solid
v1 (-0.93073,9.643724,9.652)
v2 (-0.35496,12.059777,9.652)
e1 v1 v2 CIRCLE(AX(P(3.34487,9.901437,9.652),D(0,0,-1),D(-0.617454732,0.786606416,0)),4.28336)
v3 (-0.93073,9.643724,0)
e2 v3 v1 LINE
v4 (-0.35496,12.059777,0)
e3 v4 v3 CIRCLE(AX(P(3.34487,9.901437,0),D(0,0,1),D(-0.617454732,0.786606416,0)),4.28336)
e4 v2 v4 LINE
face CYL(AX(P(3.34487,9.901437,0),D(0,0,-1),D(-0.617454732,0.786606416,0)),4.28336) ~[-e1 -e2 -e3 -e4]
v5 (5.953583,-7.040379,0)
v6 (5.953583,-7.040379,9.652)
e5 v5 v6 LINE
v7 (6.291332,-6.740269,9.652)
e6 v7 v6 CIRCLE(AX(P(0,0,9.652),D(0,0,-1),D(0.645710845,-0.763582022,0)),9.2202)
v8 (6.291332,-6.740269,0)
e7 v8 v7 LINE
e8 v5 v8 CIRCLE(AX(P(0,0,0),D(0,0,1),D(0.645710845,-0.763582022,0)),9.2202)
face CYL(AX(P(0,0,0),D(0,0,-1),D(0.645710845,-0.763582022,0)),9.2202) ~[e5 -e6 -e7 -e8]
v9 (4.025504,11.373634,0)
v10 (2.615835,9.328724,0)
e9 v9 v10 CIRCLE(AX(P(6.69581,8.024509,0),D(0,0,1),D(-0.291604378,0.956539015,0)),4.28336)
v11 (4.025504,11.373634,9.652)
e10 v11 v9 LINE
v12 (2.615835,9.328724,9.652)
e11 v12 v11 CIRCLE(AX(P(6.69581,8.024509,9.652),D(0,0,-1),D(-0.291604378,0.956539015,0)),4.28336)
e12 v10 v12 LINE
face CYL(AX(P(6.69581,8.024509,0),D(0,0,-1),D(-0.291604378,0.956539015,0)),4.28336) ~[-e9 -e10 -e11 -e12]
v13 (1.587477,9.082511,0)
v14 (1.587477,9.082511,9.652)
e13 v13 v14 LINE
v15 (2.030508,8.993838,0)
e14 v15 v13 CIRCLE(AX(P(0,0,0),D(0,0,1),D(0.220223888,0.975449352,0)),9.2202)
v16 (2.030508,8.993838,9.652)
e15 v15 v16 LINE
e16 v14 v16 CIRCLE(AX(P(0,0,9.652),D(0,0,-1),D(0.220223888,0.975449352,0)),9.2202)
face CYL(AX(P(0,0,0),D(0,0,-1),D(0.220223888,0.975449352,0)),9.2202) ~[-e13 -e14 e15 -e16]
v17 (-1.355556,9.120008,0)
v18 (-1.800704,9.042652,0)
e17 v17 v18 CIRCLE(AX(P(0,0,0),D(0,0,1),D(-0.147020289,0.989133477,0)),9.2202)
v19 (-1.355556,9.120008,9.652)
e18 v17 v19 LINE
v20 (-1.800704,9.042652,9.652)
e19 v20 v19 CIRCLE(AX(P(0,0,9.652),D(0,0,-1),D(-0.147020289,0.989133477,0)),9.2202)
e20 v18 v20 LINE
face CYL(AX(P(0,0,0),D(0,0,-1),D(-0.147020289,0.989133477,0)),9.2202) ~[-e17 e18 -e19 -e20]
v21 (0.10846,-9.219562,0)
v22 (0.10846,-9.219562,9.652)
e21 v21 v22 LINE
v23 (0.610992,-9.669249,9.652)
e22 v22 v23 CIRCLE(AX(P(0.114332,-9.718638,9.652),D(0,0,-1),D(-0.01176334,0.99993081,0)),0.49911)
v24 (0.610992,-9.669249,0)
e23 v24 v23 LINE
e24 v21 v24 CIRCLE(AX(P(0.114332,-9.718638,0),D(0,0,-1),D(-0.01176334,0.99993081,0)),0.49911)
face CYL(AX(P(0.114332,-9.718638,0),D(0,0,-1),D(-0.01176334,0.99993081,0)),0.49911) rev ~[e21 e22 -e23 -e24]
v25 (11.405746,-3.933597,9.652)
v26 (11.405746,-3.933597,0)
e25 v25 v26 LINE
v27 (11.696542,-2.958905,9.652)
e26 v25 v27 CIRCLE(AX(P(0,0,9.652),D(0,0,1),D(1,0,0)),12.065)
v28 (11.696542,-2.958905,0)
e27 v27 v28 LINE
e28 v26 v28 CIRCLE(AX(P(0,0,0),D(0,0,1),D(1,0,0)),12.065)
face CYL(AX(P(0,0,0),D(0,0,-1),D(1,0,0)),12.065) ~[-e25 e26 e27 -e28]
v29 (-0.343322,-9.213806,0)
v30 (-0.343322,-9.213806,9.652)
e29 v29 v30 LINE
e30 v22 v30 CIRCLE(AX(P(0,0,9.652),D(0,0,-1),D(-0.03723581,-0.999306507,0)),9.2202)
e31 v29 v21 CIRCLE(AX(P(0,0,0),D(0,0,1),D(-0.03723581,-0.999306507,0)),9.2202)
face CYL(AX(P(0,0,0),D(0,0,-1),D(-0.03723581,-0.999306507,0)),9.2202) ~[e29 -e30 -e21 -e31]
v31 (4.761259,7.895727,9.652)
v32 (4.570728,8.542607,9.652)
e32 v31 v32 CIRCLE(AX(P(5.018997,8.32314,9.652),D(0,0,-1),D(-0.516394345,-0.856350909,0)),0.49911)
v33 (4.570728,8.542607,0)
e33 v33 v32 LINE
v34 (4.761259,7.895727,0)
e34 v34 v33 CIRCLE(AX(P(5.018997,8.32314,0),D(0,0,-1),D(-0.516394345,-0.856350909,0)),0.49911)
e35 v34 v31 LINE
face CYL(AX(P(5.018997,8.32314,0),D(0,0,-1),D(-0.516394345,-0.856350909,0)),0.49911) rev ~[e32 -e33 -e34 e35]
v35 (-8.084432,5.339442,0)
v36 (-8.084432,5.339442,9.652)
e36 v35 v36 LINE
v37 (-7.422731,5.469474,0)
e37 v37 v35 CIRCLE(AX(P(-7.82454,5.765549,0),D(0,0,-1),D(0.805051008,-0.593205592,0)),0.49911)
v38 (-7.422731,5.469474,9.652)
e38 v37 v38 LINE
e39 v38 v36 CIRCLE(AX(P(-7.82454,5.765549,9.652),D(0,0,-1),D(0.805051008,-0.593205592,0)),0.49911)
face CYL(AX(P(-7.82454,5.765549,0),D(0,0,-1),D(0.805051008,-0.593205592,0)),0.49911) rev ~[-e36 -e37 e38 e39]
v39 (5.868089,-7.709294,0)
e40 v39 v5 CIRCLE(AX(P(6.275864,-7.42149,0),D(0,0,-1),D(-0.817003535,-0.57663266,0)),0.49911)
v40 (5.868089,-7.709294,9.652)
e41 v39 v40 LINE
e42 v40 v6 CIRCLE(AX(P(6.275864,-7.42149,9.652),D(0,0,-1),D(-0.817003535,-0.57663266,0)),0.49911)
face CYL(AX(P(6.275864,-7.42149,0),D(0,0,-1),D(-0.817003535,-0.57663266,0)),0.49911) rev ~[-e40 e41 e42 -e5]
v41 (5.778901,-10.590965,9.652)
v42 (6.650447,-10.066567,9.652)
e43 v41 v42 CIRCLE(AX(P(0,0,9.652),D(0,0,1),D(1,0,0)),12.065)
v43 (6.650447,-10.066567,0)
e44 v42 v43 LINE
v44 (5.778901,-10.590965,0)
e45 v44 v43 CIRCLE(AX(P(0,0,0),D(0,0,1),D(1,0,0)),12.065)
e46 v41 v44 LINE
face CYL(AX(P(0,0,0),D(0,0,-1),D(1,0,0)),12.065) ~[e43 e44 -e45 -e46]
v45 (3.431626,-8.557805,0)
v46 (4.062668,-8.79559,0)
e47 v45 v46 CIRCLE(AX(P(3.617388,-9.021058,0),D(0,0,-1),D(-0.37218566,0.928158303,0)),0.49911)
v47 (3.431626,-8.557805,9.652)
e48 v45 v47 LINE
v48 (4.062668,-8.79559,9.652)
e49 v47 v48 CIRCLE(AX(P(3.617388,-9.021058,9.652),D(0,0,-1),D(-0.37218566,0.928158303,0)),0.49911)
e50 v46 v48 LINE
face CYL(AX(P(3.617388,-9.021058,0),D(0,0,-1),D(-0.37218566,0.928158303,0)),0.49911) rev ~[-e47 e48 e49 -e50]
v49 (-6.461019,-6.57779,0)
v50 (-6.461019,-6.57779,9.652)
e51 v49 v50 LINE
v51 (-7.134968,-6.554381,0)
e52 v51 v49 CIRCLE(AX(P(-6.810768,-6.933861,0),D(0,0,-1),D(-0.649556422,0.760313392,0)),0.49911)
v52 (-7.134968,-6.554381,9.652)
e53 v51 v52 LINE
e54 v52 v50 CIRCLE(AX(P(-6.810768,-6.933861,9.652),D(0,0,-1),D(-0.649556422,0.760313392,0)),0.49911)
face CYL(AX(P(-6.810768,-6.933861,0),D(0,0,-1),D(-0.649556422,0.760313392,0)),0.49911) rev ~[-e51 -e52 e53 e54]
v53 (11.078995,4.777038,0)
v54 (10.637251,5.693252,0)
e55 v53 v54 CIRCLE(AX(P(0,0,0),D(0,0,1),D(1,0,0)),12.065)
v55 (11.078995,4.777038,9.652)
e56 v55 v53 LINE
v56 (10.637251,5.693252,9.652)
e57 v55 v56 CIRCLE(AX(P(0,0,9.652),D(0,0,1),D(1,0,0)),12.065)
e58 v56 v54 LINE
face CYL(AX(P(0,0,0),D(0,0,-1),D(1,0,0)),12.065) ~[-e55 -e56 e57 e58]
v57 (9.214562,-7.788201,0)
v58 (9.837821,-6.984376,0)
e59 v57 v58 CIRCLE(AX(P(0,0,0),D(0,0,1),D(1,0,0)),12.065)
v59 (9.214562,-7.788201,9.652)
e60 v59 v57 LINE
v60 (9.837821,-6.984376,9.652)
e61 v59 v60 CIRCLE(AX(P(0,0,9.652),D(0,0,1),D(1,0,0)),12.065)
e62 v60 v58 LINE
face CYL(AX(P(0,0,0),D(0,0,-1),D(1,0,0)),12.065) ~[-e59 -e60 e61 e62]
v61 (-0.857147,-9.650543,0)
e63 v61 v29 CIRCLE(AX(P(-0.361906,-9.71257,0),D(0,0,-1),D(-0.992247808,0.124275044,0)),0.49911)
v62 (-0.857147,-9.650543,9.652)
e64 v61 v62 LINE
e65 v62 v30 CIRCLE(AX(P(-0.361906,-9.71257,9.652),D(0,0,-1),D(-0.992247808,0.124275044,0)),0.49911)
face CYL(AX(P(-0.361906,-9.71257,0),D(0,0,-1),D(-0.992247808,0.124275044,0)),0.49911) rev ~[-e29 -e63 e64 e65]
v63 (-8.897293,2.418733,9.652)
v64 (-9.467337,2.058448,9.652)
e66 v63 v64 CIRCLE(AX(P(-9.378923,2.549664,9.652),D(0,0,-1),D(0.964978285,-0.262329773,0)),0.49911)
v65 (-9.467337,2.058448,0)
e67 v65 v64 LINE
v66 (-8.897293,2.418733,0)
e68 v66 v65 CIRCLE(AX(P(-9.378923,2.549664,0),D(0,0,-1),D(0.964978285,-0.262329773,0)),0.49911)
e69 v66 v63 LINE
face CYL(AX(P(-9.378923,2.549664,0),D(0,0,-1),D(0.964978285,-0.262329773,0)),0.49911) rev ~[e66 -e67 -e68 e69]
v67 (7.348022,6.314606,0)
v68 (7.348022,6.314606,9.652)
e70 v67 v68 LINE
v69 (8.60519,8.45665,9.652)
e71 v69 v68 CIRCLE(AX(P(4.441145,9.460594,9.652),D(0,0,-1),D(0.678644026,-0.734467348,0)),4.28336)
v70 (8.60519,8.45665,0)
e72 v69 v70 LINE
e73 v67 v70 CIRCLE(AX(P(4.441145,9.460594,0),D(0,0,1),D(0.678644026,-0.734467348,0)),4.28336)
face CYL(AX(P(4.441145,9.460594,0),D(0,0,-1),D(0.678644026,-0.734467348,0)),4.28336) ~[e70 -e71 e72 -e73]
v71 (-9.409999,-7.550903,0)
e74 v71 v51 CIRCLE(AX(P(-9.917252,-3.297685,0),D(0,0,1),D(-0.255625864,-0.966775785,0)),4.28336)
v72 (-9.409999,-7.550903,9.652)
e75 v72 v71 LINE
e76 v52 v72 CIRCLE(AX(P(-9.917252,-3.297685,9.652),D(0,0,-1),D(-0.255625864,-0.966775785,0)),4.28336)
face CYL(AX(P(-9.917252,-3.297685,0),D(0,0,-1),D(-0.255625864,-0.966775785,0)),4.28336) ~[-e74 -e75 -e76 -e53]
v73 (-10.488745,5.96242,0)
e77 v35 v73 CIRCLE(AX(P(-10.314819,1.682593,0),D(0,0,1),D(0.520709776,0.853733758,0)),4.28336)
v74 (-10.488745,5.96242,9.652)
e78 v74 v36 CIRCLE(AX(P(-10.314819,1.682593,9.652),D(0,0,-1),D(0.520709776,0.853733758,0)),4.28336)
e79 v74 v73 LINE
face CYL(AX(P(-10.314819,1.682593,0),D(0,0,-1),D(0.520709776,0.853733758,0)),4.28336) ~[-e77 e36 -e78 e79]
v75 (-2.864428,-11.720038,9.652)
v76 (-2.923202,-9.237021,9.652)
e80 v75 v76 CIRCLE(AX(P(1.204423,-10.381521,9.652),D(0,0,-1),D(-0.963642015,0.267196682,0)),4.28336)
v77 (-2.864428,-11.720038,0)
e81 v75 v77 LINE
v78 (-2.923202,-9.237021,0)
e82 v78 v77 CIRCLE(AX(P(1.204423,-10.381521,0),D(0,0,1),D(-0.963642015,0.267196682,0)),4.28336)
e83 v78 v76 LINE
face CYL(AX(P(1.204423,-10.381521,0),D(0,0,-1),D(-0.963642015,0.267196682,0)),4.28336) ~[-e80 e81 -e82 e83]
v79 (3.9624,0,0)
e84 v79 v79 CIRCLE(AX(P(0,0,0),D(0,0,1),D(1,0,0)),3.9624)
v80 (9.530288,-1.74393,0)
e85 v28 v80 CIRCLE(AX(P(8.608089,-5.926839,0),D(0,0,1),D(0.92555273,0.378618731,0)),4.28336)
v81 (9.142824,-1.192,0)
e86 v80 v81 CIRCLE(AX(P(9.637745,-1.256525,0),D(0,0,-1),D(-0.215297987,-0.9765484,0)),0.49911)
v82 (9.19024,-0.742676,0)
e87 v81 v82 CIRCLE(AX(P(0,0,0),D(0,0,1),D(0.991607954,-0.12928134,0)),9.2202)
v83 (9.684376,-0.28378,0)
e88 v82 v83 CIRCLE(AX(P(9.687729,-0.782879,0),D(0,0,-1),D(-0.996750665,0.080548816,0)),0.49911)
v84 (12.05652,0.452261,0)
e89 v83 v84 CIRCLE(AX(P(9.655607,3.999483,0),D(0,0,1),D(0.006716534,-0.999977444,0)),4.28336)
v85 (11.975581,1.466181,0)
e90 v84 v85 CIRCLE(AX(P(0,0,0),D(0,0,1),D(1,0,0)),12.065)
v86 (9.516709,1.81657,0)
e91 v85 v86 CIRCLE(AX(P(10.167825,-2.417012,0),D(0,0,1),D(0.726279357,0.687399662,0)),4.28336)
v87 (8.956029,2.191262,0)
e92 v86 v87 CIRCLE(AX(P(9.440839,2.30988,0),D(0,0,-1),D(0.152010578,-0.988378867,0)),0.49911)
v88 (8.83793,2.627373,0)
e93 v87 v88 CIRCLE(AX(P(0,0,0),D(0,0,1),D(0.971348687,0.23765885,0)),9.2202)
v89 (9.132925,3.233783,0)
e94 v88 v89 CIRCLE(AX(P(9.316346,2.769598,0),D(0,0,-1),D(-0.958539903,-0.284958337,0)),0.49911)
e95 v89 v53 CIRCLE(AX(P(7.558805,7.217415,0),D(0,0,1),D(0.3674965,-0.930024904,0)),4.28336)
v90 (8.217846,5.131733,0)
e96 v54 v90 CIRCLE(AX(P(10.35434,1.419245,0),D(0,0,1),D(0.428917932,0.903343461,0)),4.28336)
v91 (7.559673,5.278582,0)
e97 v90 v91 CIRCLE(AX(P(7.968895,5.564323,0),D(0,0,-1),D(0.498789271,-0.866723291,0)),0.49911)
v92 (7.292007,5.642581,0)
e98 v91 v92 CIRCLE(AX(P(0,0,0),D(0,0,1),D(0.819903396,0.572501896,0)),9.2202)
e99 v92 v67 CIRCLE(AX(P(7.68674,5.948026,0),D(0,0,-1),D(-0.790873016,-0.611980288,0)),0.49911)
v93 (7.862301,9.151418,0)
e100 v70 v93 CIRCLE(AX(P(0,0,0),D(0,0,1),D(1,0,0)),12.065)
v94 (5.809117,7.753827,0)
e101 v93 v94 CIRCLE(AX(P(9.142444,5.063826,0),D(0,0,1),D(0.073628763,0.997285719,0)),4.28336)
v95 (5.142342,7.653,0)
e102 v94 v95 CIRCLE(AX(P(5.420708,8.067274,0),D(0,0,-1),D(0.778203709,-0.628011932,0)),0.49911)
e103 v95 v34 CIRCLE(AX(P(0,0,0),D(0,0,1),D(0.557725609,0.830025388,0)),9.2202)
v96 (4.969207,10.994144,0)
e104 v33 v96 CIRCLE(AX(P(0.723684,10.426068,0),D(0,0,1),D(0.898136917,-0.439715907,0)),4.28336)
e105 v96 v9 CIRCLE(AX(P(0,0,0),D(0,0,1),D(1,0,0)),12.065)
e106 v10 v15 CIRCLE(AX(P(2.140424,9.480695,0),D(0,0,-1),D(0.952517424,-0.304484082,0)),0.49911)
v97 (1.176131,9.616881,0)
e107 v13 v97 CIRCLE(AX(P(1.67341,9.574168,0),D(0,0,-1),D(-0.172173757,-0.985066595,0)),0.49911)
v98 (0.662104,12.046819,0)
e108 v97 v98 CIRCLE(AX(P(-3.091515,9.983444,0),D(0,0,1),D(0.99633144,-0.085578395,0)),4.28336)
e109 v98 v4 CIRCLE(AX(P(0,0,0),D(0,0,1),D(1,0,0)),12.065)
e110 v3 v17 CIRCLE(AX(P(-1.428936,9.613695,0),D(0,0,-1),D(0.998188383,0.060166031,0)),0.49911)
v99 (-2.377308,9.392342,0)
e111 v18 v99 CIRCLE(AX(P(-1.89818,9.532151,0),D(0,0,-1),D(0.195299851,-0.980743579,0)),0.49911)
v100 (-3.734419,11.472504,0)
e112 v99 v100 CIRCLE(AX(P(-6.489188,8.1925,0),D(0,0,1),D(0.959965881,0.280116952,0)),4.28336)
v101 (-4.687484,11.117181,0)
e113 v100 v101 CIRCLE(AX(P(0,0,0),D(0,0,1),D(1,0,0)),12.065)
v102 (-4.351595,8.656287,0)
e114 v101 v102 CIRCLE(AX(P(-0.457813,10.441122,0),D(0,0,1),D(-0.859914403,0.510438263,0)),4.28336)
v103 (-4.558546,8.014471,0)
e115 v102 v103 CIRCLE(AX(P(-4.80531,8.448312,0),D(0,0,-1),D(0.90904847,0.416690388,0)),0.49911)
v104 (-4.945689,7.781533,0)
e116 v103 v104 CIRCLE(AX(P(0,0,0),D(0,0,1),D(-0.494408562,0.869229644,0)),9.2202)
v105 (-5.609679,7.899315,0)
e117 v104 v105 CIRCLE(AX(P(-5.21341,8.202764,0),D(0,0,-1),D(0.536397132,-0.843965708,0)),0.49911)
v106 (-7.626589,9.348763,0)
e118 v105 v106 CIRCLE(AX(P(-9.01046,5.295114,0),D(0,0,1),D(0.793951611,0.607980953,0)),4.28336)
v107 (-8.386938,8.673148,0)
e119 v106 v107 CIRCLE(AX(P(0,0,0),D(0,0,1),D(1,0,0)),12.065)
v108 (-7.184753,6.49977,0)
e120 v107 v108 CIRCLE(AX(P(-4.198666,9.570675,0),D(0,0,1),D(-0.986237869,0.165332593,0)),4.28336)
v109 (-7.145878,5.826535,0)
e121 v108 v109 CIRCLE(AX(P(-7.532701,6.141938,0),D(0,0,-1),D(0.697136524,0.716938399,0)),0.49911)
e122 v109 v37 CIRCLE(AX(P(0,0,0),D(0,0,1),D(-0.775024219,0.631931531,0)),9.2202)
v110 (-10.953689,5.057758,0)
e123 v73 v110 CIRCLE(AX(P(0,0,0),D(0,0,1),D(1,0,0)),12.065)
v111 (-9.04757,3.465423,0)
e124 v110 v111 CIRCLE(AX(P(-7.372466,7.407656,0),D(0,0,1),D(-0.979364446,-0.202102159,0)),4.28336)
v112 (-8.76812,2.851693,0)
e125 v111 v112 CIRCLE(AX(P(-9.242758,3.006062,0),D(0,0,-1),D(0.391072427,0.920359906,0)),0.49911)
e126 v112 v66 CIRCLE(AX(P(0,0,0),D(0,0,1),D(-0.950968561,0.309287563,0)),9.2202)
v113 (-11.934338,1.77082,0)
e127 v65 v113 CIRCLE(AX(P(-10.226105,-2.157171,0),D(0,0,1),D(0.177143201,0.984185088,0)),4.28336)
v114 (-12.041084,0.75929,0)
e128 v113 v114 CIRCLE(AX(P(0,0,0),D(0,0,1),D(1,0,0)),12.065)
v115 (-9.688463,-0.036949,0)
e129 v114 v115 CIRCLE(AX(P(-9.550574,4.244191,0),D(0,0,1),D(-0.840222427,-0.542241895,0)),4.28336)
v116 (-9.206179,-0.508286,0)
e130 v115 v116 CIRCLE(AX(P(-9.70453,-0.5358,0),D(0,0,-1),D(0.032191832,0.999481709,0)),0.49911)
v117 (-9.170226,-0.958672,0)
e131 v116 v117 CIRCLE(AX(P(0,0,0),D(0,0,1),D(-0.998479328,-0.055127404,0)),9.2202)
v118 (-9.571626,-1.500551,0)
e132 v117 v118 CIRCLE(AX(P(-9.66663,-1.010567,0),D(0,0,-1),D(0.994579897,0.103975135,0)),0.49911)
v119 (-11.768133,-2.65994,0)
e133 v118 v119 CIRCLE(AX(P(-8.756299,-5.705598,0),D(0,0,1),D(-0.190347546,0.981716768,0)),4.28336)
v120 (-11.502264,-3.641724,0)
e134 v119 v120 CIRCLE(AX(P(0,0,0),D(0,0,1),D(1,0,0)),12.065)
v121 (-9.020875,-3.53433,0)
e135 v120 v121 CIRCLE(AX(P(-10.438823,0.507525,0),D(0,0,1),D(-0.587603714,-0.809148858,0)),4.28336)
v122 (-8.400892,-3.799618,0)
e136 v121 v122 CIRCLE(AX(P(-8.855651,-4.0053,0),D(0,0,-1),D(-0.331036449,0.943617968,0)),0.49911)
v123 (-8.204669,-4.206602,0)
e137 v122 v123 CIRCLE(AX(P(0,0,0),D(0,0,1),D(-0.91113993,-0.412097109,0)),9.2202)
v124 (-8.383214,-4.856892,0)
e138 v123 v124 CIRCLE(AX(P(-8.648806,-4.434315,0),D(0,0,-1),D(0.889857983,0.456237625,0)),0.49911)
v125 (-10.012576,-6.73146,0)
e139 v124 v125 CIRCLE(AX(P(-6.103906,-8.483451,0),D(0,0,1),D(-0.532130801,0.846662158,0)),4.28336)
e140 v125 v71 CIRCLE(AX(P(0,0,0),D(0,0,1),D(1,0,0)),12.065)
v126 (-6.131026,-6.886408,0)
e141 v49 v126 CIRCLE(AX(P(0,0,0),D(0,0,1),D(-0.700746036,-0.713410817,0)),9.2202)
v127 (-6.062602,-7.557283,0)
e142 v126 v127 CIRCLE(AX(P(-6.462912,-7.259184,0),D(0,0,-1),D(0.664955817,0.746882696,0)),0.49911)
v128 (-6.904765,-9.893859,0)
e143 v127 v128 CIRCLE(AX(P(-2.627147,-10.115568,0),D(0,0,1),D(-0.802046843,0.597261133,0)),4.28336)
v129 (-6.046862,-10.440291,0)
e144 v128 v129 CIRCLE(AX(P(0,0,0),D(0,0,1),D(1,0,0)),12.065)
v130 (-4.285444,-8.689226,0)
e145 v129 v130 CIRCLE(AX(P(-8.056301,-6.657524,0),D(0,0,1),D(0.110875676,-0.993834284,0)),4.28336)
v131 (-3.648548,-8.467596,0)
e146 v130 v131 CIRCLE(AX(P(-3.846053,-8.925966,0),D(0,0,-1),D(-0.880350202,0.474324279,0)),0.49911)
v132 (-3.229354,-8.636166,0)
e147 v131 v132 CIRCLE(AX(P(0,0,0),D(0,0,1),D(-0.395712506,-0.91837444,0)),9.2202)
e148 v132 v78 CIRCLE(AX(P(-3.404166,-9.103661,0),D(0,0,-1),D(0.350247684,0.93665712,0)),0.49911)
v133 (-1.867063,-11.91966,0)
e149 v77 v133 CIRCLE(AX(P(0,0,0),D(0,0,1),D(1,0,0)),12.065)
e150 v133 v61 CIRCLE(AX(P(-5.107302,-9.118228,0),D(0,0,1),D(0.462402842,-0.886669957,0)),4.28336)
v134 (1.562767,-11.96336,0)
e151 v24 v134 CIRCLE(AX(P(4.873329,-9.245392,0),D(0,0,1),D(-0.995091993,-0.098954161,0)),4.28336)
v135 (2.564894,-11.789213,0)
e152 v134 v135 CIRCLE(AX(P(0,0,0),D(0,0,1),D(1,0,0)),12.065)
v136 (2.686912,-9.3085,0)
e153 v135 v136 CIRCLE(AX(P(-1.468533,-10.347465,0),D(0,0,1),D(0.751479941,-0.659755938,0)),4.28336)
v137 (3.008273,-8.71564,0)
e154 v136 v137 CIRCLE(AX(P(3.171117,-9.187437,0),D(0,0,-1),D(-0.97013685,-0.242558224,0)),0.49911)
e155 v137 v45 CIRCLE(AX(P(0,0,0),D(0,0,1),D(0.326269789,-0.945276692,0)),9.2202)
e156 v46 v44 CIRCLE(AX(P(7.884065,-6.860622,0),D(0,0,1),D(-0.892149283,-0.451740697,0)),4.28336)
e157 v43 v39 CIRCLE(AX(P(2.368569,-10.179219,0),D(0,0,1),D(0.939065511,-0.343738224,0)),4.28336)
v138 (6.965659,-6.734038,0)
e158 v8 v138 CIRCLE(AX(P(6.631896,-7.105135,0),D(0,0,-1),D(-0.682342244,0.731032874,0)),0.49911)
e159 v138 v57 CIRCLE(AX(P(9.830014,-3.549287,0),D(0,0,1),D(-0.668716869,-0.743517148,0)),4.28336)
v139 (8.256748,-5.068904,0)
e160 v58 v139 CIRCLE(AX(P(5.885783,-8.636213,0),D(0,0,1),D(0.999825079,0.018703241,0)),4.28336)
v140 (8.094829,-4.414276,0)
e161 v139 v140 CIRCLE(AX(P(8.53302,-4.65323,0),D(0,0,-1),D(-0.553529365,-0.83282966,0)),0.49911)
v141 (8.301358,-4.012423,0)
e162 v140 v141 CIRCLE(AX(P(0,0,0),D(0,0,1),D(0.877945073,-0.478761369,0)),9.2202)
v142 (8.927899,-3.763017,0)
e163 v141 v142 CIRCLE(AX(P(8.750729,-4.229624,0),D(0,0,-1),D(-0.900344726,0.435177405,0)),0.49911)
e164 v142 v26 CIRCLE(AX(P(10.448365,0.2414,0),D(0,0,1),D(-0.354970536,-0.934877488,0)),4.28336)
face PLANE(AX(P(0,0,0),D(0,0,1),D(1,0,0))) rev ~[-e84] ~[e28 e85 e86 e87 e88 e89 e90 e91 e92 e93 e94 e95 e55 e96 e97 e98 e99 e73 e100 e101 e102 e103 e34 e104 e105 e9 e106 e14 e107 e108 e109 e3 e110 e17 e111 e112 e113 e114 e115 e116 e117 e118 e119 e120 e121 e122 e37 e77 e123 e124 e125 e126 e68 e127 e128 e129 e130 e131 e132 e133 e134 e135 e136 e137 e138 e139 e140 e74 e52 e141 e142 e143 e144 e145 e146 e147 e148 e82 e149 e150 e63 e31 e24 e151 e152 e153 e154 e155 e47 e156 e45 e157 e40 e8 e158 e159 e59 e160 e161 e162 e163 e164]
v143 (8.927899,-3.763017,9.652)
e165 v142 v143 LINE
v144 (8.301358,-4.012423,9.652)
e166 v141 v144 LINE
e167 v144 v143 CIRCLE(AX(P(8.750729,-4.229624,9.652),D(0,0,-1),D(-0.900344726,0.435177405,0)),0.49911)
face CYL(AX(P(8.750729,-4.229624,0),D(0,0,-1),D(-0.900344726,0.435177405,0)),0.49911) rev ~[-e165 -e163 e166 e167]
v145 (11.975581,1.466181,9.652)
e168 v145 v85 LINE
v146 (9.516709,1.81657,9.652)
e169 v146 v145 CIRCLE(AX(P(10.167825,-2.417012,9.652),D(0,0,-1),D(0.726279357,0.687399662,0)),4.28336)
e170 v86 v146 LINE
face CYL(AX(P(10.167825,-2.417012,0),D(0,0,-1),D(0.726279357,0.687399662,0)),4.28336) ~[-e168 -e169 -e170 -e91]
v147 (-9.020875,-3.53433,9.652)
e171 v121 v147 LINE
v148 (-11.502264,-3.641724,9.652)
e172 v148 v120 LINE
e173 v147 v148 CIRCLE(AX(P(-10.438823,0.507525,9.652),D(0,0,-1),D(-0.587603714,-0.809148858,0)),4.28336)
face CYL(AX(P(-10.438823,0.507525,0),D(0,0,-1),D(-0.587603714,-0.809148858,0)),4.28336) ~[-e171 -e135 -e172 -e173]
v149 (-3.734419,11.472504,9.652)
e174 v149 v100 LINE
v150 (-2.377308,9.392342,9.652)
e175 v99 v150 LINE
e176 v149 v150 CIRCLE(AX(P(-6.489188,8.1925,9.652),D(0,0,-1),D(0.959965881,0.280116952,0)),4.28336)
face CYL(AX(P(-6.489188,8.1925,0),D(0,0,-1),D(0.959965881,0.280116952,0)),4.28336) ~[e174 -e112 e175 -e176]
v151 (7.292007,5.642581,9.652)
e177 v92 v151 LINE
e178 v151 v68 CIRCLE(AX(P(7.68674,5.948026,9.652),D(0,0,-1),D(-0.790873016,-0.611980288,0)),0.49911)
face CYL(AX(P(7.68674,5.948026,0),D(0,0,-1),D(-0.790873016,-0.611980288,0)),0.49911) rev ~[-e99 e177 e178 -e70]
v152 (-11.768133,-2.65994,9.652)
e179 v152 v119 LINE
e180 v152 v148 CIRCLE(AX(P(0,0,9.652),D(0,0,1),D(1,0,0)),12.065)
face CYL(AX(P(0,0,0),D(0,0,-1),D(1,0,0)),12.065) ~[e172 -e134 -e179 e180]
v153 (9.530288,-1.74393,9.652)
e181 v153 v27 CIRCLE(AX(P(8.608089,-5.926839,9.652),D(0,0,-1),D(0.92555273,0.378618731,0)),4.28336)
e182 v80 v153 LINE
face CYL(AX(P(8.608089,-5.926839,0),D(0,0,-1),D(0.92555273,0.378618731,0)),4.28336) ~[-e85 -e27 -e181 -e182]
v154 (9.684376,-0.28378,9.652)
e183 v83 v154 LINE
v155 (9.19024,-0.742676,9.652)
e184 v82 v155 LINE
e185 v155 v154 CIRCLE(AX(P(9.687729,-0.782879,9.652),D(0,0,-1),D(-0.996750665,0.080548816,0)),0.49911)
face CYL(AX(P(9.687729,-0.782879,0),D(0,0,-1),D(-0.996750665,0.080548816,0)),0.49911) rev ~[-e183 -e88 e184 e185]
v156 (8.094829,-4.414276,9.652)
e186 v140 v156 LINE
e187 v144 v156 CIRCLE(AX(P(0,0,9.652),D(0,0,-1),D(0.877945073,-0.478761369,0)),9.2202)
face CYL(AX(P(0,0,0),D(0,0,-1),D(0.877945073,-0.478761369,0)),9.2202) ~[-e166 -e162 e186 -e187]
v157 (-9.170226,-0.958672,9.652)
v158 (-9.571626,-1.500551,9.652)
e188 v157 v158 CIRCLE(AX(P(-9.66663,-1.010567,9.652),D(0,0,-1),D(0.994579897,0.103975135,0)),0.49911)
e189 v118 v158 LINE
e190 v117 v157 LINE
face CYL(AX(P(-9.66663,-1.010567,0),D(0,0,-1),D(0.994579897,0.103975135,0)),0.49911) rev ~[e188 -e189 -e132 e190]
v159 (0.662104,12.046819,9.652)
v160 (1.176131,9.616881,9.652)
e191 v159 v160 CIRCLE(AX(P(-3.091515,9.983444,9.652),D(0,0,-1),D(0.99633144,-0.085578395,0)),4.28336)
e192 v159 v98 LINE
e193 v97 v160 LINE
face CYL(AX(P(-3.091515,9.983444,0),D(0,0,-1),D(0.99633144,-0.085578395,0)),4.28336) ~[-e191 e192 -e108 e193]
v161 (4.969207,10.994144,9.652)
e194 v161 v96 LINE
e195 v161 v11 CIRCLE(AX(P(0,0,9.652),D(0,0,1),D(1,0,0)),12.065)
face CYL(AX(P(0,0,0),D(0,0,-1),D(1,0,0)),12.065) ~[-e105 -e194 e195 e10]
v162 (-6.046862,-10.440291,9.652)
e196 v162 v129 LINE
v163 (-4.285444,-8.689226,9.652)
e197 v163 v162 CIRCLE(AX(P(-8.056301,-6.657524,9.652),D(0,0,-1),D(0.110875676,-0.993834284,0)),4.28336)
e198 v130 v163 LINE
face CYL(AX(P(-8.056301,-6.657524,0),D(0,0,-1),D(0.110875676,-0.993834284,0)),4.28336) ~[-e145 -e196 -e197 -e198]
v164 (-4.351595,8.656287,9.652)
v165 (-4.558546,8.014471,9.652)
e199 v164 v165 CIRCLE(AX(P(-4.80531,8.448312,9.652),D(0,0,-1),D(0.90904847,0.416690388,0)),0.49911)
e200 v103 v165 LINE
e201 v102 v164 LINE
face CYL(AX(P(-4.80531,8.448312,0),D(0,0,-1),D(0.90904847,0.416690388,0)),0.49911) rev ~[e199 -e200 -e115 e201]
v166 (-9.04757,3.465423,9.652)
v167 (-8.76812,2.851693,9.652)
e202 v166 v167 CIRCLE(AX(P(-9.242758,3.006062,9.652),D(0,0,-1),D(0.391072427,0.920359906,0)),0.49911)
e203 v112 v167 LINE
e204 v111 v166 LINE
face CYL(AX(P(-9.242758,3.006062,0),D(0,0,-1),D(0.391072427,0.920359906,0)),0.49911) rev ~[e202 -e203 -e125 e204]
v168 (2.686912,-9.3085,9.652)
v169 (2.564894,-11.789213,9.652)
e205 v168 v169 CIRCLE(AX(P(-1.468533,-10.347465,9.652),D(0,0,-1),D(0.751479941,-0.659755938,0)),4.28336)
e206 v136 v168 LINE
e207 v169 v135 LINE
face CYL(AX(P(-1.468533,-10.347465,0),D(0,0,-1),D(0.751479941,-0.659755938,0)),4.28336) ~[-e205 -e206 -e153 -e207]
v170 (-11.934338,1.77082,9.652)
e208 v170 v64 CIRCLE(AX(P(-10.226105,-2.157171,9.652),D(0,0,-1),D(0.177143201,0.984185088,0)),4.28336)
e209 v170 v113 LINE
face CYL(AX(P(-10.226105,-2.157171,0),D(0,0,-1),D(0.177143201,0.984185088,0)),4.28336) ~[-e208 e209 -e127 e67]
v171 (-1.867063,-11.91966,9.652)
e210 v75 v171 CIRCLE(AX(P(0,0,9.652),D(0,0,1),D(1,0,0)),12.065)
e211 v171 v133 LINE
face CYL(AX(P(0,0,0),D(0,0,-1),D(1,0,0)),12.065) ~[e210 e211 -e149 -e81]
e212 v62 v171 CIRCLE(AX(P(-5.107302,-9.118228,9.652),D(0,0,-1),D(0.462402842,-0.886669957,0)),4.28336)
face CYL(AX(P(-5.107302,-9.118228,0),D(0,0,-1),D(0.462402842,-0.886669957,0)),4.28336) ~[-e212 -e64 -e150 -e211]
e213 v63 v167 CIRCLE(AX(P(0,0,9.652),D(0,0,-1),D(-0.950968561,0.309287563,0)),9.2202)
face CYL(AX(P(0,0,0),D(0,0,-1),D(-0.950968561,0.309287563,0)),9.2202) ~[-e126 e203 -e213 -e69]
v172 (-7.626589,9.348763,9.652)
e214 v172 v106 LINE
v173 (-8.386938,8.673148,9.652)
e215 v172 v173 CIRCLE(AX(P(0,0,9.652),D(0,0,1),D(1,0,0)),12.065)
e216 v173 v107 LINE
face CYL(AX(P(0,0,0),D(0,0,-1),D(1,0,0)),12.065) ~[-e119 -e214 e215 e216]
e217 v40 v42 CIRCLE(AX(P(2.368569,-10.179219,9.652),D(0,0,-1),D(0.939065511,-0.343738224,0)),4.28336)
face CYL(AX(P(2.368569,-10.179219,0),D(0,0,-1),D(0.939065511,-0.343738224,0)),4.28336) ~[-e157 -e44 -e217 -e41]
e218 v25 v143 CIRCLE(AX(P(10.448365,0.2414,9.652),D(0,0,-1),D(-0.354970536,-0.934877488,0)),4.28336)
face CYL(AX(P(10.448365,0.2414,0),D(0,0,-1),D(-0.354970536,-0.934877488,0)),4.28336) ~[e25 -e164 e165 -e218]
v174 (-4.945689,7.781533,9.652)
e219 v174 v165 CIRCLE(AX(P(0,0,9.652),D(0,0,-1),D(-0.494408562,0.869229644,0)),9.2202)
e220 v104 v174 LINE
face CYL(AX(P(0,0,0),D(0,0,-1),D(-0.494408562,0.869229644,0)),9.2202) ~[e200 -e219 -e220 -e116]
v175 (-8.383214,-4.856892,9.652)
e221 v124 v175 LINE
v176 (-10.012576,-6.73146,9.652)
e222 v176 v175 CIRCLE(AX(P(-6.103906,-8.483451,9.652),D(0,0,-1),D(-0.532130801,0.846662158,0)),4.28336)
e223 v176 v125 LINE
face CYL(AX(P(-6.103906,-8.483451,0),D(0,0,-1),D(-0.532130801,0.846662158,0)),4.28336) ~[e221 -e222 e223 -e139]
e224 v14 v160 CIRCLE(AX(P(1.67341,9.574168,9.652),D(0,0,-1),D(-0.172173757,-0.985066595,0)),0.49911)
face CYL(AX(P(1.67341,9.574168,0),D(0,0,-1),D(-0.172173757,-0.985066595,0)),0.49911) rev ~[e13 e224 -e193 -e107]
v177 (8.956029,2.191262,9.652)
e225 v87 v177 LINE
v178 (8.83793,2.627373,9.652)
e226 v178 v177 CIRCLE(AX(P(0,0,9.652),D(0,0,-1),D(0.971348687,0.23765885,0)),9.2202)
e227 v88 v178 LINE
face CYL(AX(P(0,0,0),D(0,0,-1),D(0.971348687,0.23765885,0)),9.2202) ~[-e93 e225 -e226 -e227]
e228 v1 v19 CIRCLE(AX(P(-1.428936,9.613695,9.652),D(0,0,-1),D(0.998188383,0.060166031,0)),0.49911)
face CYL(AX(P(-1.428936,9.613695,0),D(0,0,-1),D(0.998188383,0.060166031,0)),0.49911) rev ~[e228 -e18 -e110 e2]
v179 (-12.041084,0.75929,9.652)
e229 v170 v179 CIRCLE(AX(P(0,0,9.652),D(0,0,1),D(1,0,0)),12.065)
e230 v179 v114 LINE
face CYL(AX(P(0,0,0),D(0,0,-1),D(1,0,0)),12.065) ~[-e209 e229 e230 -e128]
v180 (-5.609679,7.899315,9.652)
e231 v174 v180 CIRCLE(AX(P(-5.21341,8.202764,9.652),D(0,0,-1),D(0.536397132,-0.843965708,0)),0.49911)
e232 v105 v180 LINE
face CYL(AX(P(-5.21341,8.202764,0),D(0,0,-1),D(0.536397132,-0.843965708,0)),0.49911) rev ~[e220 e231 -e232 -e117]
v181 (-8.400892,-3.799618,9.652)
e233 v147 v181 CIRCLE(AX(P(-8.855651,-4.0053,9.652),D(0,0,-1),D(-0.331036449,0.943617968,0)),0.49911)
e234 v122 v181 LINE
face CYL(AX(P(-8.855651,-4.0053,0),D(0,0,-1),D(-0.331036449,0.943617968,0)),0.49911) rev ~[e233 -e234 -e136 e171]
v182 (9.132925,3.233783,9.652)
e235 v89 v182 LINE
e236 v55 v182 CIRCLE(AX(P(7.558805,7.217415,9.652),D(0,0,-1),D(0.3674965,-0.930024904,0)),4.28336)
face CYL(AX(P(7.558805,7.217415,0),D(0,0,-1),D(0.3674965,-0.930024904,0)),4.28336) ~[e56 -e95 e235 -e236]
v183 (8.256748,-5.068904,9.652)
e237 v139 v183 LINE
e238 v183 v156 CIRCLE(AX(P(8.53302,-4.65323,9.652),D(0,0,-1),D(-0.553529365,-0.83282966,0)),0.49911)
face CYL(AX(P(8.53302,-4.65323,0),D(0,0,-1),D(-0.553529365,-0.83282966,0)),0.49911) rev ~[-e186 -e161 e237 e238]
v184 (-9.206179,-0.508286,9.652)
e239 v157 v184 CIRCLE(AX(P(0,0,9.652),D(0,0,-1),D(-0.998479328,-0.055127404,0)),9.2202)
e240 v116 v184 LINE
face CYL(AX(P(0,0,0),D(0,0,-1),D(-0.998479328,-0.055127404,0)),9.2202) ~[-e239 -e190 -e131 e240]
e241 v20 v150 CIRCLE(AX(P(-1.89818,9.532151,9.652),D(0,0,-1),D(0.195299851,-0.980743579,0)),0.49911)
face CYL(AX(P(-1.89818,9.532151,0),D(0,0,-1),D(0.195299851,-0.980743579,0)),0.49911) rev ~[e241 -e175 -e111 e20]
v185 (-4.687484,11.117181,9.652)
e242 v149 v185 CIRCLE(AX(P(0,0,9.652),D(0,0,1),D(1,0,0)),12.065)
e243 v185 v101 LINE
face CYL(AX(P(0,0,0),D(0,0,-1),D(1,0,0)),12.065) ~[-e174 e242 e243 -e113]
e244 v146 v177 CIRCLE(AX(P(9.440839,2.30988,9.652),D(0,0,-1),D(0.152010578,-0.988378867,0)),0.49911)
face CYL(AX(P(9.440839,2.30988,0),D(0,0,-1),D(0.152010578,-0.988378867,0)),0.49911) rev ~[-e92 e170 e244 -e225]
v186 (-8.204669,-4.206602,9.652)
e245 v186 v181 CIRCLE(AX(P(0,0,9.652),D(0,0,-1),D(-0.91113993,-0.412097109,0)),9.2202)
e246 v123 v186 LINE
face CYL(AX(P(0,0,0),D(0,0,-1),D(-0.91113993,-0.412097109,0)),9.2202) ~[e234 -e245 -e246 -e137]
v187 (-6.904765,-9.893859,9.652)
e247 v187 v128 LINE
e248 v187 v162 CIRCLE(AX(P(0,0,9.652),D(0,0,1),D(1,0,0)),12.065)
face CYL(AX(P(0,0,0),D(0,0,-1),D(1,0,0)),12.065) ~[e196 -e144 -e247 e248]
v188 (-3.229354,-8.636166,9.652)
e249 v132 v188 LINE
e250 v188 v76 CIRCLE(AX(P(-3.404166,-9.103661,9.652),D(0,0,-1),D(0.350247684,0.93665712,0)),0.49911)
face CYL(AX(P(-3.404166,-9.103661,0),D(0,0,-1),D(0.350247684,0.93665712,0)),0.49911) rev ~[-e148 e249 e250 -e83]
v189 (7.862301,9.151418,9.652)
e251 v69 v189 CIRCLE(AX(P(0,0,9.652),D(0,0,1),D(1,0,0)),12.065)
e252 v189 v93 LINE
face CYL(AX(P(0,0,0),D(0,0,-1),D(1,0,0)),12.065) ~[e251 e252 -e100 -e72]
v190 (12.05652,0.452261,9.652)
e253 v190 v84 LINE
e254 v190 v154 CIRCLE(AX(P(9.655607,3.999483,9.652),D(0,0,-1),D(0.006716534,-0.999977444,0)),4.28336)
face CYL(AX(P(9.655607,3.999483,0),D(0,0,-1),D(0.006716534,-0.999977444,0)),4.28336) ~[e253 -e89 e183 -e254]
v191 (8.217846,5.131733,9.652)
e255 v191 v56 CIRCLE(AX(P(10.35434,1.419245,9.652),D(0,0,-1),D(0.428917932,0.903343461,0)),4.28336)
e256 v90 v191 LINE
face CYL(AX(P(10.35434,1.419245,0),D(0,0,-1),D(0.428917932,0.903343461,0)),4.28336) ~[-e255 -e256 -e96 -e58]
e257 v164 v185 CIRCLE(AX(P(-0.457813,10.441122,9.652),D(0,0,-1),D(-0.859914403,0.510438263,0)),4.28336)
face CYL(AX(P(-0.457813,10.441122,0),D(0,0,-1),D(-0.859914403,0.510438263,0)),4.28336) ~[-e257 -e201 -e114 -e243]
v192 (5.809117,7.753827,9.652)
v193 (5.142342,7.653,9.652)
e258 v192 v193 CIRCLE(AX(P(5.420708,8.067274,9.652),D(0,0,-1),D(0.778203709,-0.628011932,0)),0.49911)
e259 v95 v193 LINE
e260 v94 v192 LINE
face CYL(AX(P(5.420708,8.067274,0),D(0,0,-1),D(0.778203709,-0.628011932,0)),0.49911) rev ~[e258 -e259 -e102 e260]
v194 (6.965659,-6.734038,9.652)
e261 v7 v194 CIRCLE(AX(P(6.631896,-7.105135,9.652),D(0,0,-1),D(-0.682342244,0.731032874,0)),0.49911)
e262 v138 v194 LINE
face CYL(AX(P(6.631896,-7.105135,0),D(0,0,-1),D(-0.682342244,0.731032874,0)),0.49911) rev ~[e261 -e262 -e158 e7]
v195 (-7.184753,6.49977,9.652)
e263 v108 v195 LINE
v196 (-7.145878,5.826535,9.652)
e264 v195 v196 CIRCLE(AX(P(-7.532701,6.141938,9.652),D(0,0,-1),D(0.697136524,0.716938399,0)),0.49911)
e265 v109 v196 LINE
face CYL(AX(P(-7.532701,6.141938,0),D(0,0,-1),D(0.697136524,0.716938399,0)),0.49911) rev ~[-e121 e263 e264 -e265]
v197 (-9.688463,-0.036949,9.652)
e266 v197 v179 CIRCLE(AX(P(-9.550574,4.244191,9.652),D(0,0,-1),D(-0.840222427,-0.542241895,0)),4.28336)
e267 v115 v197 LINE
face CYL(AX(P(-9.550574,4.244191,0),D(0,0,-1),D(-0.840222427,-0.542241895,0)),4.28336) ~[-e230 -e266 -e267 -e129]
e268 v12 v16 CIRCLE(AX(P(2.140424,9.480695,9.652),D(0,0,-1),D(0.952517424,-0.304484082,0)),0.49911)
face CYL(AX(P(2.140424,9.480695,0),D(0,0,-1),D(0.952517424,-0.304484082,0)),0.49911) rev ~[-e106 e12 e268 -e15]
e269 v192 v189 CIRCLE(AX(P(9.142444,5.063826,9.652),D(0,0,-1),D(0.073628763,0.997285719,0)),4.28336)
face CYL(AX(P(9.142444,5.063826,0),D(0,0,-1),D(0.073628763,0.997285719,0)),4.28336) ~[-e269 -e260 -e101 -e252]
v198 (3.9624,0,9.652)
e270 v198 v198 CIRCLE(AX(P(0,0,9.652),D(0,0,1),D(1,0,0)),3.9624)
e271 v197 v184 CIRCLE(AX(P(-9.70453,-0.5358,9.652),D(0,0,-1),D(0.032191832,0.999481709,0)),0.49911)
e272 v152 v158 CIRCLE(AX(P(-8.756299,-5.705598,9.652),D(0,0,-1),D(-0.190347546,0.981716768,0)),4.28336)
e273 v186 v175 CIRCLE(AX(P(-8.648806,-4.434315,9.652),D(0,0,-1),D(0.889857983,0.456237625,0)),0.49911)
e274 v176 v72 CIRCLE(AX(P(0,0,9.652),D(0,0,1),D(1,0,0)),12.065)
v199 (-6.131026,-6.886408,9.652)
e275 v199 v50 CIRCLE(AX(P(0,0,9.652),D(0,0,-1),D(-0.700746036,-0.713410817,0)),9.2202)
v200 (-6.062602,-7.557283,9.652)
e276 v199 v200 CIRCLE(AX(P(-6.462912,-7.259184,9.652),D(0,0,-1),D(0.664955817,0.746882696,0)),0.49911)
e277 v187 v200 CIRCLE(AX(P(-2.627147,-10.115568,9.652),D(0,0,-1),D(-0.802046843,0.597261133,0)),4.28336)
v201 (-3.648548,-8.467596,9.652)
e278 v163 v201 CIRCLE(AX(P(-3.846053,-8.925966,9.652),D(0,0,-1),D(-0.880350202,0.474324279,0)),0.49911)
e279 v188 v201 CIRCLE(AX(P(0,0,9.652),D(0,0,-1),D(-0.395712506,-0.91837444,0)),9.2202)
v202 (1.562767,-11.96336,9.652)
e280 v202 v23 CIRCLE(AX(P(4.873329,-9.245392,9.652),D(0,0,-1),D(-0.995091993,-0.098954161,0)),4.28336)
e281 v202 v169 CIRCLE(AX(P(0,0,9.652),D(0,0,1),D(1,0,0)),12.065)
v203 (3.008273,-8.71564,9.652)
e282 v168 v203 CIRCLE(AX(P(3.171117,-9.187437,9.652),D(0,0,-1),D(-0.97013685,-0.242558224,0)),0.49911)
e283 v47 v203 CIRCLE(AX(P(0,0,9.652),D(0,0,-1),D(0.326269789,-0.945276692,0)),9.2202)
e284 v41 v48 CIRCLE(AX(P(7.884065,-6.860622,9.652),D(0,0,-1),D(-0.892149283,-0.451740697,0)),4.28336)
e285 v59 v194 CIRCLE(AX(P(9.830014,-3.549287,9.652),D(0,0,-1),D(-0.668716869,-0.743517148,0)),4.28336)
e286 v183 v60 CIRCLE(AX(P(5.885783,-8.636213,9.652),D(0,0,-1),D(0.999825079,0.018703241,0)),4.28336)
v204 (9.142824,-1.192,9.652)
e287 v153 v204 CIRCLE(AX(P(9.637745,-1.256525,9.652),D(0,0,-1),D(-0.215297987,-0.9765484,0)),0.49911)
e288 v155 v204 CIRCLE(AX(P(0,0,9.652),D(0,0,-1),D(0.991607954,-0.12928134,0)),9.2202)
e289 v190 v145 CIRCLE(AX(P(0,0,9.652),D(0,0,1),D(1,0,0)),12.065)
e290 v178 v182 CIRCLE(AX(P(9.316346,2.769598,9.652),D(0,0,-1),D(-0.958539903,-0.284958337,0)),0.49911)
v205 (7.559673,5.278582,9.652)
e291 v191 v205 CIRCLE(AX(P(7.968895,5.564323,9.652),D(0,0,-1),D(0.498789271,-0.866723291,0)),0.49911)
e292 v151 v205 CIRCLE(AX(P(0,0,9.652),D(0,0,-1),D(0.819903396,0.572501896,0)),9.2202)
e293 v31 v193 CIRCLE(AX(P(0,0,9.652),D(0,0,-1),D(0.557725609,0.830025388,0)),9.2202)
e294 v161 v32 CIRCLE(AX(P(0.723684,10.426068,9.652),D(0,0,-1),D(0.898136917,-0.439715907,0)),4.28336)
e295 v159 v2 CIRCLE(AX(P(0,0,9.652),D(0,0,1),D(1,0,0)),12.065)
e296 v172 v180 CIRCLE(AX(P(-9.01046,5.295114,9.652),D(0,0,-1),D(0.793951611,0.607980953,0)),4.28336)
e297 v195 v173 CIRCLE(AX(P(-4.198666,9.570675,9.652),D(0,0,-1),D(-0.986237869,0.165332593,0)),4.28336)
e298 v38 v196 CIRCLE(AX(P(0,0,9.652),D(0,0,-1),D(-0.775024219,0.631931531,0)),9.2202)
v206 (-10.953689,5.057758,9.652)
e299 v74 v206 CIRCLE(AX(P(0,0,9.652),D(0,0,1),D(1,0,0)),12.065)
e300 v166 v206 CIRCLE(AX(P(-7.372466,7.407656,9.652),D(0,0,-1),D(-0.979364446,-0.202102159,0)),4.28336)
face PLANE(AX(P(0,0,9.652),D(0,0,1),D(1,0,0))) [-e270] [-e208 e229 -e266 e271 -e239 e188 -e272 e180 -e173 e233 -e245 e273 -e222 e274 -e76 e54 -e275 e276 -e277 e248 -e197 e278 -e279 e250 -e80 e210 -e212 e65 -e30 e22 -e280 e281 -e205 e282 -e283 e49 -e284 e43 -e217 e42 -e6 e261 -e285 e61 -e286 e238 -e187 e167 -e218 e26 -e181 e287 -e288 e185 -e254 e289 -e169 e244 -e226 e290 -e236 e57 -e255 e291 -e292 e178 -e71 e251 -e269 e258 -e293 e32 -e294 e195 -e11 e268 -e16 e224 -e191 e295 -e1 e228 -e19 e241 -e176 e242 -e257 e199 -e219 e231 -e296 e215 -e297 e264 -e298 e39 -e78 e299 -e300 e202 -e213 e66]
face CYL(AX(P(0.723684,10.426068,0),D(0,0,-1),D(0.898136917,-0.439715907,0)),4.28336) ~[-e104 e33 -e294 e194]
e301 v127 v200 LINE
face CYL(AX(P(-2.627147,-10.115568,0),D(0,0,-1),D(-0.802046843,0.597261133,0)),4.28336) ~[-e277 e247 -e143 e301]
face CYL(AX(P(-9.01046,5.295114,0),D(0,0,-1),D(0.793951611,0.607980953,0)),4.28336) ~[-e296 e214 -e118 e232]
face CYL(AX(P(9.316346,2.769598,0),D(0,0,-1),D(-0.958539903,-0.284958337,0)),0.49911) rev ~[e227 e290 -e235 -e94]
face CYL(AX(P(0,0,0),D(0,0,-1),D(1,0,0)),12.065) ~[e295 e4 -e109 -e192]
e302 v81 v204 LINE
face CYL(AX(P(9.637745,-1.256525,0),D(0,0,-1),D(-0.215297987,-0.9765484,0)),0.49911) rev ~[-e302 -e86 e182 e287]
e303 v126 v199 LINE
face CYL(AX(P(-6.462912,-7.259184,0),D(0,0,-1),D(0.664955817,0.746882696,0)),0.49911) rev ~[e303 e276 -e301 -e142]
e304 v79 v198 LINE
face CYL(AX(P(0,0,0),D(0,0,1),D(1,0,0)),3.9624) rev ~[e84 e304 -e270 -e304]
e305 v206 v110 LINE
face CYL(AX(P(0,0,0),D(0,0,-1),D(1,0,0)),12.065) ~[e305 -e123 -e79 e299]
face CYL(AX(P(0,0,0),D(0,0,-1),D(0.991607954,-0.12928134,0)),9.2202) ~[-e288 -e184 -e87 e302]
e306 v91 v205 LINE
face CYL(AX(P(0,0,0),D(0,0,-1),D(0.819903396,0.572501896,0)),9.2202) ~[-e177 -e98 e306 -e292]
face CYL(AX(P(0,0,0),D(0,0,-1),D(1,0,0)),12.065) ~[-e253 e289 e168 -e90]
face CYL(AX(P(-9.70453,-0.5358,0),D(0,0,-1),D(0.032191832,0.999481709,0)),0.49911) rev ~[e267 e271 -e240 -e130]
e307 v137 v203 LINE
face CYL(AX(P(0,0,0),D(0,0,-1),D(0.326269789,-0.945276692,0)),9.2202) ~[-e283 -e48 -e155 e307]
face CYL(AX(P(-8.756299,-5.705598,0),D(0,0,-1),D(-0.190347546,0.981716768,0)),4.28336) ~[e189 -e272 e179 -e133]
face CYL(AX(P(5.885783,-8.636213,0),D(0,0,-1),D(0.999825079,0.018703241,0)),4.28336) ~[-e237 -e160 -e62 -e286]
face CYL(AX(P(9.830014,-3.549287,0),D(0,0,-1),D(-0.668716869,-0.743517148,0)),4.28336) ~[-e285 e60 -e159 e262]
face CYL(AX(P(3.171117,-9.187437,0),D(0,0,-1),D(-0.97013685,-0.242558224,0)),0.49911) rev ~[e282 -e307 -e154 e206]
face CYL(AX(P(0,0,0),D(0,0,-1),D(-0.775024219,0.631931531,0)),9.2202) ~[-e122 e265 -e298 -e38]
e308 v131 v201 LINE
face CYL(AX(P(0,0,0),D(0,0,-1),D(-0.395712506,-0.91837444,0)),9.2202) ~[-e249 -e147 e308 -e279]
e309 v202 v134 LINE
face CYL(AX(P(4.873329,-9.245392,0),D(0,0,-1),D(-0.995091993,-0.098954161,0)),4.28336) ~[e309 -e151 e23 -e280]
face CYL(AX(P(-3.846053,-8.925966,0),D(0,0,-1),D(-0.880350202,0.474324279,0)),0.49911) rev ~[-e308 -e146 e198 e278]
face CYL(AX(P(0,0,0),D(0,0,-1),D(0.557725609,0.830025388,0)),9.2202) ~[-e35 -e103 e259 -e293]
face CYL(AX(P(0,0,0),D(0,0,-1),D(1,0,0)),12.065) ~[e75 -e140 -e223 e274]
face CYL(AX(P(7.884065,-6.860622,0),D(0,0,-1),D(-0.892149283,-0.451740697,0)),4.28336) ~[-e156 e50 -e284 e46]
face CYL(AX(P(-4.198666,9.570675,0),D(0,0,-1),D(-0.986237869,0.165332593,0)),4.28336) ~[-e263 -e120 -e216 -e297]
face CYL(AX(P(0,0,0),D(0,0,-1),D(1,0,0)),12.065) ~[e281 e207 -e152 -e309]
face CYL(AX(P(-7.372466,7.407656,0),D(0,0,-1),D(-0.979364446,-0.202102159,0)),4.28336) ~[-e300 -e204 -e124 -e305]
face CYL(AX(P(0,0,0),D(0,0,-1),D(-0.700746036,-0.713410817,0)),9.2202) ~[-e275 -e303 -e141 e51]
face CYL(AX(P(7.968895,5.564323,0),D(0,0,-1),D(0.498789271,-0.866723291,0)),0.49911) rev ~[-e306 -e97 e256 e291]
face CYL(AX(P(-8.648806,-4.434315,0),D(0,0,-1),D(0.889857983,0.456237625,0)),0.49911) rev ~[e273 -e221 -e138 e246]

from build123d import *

# Parameters (mm, degrees)
SKETCH3_R         = 12.065
GEARBODY_DEPTH    = 9.652
TOOTHCUT_DEPTH    = 10.652
CIRPATTERN1_COUNT = 17
BOREDIA_R         = 3.9624
BORE_DEPTH        = 12700


with BuildPart() as part:
    # Sketch3 → gearBody (new body)
    with BuildSketch(Plane.XY):
        Circle(SKETCH3_R)
    extrude(amount=GEARBODY_DEPTH)

    # Sketch2 → toothCut (cut, through all)
    with BuildSketch(Plane.XY):
        with BuildLine():
            ThreePointArc((9.142823661, -1.191999807), (9.169284766, -0.967628503), (9.19024048, -0.742676218))
            ThreePointArc((9.19024048, -0.742676218), (9.348086694, -0.417154866), (9.684376414, -0.283780197))
            ThreePointArc((9.684376414, -0.283780197), (11.669443263, 0.21905505), (13.194238308, 1.585925107))
            ThreePointArc((13.194238308, 1.585925107), (13.215824396, -1.39465713), (12.572564615, -4.305078625))
            ThreePointArc((12.572564615, -4.305078625), (11.366669508, -2.650040659), (9.530287729, -1.743930488))
            ThreePointArc((9.530287729, -1.743930488), (9.229245497, -1.543298603), (9.142823661, -1.191999807))
        make_face()
    toothcut = extrude(amount=TOOTHCUT_DEPTH, mode=Mode.SUBTRACT)

    # CirPattern1: toothCut ×17 about axis
    cirpattern1_axis = Axis((0, 0, 0), (0, 0, 1))
    for i in range(1, CIRPATTERN1_COUNT):
        add(toothcut.rotate(cirpattern1_axis, i * 360 / CIRPATTERN1_COUNT), mode=Mode.SUBTRACT)

    # boreDia → bore (cut, symmetric)
    with BuildSketch(Plane.XY):
        Circle(BOREDIA_R)
    extrude(amount=BORE_DEPTH, both=True, mode=Mode.SUBTRACT)


solid = part.part
